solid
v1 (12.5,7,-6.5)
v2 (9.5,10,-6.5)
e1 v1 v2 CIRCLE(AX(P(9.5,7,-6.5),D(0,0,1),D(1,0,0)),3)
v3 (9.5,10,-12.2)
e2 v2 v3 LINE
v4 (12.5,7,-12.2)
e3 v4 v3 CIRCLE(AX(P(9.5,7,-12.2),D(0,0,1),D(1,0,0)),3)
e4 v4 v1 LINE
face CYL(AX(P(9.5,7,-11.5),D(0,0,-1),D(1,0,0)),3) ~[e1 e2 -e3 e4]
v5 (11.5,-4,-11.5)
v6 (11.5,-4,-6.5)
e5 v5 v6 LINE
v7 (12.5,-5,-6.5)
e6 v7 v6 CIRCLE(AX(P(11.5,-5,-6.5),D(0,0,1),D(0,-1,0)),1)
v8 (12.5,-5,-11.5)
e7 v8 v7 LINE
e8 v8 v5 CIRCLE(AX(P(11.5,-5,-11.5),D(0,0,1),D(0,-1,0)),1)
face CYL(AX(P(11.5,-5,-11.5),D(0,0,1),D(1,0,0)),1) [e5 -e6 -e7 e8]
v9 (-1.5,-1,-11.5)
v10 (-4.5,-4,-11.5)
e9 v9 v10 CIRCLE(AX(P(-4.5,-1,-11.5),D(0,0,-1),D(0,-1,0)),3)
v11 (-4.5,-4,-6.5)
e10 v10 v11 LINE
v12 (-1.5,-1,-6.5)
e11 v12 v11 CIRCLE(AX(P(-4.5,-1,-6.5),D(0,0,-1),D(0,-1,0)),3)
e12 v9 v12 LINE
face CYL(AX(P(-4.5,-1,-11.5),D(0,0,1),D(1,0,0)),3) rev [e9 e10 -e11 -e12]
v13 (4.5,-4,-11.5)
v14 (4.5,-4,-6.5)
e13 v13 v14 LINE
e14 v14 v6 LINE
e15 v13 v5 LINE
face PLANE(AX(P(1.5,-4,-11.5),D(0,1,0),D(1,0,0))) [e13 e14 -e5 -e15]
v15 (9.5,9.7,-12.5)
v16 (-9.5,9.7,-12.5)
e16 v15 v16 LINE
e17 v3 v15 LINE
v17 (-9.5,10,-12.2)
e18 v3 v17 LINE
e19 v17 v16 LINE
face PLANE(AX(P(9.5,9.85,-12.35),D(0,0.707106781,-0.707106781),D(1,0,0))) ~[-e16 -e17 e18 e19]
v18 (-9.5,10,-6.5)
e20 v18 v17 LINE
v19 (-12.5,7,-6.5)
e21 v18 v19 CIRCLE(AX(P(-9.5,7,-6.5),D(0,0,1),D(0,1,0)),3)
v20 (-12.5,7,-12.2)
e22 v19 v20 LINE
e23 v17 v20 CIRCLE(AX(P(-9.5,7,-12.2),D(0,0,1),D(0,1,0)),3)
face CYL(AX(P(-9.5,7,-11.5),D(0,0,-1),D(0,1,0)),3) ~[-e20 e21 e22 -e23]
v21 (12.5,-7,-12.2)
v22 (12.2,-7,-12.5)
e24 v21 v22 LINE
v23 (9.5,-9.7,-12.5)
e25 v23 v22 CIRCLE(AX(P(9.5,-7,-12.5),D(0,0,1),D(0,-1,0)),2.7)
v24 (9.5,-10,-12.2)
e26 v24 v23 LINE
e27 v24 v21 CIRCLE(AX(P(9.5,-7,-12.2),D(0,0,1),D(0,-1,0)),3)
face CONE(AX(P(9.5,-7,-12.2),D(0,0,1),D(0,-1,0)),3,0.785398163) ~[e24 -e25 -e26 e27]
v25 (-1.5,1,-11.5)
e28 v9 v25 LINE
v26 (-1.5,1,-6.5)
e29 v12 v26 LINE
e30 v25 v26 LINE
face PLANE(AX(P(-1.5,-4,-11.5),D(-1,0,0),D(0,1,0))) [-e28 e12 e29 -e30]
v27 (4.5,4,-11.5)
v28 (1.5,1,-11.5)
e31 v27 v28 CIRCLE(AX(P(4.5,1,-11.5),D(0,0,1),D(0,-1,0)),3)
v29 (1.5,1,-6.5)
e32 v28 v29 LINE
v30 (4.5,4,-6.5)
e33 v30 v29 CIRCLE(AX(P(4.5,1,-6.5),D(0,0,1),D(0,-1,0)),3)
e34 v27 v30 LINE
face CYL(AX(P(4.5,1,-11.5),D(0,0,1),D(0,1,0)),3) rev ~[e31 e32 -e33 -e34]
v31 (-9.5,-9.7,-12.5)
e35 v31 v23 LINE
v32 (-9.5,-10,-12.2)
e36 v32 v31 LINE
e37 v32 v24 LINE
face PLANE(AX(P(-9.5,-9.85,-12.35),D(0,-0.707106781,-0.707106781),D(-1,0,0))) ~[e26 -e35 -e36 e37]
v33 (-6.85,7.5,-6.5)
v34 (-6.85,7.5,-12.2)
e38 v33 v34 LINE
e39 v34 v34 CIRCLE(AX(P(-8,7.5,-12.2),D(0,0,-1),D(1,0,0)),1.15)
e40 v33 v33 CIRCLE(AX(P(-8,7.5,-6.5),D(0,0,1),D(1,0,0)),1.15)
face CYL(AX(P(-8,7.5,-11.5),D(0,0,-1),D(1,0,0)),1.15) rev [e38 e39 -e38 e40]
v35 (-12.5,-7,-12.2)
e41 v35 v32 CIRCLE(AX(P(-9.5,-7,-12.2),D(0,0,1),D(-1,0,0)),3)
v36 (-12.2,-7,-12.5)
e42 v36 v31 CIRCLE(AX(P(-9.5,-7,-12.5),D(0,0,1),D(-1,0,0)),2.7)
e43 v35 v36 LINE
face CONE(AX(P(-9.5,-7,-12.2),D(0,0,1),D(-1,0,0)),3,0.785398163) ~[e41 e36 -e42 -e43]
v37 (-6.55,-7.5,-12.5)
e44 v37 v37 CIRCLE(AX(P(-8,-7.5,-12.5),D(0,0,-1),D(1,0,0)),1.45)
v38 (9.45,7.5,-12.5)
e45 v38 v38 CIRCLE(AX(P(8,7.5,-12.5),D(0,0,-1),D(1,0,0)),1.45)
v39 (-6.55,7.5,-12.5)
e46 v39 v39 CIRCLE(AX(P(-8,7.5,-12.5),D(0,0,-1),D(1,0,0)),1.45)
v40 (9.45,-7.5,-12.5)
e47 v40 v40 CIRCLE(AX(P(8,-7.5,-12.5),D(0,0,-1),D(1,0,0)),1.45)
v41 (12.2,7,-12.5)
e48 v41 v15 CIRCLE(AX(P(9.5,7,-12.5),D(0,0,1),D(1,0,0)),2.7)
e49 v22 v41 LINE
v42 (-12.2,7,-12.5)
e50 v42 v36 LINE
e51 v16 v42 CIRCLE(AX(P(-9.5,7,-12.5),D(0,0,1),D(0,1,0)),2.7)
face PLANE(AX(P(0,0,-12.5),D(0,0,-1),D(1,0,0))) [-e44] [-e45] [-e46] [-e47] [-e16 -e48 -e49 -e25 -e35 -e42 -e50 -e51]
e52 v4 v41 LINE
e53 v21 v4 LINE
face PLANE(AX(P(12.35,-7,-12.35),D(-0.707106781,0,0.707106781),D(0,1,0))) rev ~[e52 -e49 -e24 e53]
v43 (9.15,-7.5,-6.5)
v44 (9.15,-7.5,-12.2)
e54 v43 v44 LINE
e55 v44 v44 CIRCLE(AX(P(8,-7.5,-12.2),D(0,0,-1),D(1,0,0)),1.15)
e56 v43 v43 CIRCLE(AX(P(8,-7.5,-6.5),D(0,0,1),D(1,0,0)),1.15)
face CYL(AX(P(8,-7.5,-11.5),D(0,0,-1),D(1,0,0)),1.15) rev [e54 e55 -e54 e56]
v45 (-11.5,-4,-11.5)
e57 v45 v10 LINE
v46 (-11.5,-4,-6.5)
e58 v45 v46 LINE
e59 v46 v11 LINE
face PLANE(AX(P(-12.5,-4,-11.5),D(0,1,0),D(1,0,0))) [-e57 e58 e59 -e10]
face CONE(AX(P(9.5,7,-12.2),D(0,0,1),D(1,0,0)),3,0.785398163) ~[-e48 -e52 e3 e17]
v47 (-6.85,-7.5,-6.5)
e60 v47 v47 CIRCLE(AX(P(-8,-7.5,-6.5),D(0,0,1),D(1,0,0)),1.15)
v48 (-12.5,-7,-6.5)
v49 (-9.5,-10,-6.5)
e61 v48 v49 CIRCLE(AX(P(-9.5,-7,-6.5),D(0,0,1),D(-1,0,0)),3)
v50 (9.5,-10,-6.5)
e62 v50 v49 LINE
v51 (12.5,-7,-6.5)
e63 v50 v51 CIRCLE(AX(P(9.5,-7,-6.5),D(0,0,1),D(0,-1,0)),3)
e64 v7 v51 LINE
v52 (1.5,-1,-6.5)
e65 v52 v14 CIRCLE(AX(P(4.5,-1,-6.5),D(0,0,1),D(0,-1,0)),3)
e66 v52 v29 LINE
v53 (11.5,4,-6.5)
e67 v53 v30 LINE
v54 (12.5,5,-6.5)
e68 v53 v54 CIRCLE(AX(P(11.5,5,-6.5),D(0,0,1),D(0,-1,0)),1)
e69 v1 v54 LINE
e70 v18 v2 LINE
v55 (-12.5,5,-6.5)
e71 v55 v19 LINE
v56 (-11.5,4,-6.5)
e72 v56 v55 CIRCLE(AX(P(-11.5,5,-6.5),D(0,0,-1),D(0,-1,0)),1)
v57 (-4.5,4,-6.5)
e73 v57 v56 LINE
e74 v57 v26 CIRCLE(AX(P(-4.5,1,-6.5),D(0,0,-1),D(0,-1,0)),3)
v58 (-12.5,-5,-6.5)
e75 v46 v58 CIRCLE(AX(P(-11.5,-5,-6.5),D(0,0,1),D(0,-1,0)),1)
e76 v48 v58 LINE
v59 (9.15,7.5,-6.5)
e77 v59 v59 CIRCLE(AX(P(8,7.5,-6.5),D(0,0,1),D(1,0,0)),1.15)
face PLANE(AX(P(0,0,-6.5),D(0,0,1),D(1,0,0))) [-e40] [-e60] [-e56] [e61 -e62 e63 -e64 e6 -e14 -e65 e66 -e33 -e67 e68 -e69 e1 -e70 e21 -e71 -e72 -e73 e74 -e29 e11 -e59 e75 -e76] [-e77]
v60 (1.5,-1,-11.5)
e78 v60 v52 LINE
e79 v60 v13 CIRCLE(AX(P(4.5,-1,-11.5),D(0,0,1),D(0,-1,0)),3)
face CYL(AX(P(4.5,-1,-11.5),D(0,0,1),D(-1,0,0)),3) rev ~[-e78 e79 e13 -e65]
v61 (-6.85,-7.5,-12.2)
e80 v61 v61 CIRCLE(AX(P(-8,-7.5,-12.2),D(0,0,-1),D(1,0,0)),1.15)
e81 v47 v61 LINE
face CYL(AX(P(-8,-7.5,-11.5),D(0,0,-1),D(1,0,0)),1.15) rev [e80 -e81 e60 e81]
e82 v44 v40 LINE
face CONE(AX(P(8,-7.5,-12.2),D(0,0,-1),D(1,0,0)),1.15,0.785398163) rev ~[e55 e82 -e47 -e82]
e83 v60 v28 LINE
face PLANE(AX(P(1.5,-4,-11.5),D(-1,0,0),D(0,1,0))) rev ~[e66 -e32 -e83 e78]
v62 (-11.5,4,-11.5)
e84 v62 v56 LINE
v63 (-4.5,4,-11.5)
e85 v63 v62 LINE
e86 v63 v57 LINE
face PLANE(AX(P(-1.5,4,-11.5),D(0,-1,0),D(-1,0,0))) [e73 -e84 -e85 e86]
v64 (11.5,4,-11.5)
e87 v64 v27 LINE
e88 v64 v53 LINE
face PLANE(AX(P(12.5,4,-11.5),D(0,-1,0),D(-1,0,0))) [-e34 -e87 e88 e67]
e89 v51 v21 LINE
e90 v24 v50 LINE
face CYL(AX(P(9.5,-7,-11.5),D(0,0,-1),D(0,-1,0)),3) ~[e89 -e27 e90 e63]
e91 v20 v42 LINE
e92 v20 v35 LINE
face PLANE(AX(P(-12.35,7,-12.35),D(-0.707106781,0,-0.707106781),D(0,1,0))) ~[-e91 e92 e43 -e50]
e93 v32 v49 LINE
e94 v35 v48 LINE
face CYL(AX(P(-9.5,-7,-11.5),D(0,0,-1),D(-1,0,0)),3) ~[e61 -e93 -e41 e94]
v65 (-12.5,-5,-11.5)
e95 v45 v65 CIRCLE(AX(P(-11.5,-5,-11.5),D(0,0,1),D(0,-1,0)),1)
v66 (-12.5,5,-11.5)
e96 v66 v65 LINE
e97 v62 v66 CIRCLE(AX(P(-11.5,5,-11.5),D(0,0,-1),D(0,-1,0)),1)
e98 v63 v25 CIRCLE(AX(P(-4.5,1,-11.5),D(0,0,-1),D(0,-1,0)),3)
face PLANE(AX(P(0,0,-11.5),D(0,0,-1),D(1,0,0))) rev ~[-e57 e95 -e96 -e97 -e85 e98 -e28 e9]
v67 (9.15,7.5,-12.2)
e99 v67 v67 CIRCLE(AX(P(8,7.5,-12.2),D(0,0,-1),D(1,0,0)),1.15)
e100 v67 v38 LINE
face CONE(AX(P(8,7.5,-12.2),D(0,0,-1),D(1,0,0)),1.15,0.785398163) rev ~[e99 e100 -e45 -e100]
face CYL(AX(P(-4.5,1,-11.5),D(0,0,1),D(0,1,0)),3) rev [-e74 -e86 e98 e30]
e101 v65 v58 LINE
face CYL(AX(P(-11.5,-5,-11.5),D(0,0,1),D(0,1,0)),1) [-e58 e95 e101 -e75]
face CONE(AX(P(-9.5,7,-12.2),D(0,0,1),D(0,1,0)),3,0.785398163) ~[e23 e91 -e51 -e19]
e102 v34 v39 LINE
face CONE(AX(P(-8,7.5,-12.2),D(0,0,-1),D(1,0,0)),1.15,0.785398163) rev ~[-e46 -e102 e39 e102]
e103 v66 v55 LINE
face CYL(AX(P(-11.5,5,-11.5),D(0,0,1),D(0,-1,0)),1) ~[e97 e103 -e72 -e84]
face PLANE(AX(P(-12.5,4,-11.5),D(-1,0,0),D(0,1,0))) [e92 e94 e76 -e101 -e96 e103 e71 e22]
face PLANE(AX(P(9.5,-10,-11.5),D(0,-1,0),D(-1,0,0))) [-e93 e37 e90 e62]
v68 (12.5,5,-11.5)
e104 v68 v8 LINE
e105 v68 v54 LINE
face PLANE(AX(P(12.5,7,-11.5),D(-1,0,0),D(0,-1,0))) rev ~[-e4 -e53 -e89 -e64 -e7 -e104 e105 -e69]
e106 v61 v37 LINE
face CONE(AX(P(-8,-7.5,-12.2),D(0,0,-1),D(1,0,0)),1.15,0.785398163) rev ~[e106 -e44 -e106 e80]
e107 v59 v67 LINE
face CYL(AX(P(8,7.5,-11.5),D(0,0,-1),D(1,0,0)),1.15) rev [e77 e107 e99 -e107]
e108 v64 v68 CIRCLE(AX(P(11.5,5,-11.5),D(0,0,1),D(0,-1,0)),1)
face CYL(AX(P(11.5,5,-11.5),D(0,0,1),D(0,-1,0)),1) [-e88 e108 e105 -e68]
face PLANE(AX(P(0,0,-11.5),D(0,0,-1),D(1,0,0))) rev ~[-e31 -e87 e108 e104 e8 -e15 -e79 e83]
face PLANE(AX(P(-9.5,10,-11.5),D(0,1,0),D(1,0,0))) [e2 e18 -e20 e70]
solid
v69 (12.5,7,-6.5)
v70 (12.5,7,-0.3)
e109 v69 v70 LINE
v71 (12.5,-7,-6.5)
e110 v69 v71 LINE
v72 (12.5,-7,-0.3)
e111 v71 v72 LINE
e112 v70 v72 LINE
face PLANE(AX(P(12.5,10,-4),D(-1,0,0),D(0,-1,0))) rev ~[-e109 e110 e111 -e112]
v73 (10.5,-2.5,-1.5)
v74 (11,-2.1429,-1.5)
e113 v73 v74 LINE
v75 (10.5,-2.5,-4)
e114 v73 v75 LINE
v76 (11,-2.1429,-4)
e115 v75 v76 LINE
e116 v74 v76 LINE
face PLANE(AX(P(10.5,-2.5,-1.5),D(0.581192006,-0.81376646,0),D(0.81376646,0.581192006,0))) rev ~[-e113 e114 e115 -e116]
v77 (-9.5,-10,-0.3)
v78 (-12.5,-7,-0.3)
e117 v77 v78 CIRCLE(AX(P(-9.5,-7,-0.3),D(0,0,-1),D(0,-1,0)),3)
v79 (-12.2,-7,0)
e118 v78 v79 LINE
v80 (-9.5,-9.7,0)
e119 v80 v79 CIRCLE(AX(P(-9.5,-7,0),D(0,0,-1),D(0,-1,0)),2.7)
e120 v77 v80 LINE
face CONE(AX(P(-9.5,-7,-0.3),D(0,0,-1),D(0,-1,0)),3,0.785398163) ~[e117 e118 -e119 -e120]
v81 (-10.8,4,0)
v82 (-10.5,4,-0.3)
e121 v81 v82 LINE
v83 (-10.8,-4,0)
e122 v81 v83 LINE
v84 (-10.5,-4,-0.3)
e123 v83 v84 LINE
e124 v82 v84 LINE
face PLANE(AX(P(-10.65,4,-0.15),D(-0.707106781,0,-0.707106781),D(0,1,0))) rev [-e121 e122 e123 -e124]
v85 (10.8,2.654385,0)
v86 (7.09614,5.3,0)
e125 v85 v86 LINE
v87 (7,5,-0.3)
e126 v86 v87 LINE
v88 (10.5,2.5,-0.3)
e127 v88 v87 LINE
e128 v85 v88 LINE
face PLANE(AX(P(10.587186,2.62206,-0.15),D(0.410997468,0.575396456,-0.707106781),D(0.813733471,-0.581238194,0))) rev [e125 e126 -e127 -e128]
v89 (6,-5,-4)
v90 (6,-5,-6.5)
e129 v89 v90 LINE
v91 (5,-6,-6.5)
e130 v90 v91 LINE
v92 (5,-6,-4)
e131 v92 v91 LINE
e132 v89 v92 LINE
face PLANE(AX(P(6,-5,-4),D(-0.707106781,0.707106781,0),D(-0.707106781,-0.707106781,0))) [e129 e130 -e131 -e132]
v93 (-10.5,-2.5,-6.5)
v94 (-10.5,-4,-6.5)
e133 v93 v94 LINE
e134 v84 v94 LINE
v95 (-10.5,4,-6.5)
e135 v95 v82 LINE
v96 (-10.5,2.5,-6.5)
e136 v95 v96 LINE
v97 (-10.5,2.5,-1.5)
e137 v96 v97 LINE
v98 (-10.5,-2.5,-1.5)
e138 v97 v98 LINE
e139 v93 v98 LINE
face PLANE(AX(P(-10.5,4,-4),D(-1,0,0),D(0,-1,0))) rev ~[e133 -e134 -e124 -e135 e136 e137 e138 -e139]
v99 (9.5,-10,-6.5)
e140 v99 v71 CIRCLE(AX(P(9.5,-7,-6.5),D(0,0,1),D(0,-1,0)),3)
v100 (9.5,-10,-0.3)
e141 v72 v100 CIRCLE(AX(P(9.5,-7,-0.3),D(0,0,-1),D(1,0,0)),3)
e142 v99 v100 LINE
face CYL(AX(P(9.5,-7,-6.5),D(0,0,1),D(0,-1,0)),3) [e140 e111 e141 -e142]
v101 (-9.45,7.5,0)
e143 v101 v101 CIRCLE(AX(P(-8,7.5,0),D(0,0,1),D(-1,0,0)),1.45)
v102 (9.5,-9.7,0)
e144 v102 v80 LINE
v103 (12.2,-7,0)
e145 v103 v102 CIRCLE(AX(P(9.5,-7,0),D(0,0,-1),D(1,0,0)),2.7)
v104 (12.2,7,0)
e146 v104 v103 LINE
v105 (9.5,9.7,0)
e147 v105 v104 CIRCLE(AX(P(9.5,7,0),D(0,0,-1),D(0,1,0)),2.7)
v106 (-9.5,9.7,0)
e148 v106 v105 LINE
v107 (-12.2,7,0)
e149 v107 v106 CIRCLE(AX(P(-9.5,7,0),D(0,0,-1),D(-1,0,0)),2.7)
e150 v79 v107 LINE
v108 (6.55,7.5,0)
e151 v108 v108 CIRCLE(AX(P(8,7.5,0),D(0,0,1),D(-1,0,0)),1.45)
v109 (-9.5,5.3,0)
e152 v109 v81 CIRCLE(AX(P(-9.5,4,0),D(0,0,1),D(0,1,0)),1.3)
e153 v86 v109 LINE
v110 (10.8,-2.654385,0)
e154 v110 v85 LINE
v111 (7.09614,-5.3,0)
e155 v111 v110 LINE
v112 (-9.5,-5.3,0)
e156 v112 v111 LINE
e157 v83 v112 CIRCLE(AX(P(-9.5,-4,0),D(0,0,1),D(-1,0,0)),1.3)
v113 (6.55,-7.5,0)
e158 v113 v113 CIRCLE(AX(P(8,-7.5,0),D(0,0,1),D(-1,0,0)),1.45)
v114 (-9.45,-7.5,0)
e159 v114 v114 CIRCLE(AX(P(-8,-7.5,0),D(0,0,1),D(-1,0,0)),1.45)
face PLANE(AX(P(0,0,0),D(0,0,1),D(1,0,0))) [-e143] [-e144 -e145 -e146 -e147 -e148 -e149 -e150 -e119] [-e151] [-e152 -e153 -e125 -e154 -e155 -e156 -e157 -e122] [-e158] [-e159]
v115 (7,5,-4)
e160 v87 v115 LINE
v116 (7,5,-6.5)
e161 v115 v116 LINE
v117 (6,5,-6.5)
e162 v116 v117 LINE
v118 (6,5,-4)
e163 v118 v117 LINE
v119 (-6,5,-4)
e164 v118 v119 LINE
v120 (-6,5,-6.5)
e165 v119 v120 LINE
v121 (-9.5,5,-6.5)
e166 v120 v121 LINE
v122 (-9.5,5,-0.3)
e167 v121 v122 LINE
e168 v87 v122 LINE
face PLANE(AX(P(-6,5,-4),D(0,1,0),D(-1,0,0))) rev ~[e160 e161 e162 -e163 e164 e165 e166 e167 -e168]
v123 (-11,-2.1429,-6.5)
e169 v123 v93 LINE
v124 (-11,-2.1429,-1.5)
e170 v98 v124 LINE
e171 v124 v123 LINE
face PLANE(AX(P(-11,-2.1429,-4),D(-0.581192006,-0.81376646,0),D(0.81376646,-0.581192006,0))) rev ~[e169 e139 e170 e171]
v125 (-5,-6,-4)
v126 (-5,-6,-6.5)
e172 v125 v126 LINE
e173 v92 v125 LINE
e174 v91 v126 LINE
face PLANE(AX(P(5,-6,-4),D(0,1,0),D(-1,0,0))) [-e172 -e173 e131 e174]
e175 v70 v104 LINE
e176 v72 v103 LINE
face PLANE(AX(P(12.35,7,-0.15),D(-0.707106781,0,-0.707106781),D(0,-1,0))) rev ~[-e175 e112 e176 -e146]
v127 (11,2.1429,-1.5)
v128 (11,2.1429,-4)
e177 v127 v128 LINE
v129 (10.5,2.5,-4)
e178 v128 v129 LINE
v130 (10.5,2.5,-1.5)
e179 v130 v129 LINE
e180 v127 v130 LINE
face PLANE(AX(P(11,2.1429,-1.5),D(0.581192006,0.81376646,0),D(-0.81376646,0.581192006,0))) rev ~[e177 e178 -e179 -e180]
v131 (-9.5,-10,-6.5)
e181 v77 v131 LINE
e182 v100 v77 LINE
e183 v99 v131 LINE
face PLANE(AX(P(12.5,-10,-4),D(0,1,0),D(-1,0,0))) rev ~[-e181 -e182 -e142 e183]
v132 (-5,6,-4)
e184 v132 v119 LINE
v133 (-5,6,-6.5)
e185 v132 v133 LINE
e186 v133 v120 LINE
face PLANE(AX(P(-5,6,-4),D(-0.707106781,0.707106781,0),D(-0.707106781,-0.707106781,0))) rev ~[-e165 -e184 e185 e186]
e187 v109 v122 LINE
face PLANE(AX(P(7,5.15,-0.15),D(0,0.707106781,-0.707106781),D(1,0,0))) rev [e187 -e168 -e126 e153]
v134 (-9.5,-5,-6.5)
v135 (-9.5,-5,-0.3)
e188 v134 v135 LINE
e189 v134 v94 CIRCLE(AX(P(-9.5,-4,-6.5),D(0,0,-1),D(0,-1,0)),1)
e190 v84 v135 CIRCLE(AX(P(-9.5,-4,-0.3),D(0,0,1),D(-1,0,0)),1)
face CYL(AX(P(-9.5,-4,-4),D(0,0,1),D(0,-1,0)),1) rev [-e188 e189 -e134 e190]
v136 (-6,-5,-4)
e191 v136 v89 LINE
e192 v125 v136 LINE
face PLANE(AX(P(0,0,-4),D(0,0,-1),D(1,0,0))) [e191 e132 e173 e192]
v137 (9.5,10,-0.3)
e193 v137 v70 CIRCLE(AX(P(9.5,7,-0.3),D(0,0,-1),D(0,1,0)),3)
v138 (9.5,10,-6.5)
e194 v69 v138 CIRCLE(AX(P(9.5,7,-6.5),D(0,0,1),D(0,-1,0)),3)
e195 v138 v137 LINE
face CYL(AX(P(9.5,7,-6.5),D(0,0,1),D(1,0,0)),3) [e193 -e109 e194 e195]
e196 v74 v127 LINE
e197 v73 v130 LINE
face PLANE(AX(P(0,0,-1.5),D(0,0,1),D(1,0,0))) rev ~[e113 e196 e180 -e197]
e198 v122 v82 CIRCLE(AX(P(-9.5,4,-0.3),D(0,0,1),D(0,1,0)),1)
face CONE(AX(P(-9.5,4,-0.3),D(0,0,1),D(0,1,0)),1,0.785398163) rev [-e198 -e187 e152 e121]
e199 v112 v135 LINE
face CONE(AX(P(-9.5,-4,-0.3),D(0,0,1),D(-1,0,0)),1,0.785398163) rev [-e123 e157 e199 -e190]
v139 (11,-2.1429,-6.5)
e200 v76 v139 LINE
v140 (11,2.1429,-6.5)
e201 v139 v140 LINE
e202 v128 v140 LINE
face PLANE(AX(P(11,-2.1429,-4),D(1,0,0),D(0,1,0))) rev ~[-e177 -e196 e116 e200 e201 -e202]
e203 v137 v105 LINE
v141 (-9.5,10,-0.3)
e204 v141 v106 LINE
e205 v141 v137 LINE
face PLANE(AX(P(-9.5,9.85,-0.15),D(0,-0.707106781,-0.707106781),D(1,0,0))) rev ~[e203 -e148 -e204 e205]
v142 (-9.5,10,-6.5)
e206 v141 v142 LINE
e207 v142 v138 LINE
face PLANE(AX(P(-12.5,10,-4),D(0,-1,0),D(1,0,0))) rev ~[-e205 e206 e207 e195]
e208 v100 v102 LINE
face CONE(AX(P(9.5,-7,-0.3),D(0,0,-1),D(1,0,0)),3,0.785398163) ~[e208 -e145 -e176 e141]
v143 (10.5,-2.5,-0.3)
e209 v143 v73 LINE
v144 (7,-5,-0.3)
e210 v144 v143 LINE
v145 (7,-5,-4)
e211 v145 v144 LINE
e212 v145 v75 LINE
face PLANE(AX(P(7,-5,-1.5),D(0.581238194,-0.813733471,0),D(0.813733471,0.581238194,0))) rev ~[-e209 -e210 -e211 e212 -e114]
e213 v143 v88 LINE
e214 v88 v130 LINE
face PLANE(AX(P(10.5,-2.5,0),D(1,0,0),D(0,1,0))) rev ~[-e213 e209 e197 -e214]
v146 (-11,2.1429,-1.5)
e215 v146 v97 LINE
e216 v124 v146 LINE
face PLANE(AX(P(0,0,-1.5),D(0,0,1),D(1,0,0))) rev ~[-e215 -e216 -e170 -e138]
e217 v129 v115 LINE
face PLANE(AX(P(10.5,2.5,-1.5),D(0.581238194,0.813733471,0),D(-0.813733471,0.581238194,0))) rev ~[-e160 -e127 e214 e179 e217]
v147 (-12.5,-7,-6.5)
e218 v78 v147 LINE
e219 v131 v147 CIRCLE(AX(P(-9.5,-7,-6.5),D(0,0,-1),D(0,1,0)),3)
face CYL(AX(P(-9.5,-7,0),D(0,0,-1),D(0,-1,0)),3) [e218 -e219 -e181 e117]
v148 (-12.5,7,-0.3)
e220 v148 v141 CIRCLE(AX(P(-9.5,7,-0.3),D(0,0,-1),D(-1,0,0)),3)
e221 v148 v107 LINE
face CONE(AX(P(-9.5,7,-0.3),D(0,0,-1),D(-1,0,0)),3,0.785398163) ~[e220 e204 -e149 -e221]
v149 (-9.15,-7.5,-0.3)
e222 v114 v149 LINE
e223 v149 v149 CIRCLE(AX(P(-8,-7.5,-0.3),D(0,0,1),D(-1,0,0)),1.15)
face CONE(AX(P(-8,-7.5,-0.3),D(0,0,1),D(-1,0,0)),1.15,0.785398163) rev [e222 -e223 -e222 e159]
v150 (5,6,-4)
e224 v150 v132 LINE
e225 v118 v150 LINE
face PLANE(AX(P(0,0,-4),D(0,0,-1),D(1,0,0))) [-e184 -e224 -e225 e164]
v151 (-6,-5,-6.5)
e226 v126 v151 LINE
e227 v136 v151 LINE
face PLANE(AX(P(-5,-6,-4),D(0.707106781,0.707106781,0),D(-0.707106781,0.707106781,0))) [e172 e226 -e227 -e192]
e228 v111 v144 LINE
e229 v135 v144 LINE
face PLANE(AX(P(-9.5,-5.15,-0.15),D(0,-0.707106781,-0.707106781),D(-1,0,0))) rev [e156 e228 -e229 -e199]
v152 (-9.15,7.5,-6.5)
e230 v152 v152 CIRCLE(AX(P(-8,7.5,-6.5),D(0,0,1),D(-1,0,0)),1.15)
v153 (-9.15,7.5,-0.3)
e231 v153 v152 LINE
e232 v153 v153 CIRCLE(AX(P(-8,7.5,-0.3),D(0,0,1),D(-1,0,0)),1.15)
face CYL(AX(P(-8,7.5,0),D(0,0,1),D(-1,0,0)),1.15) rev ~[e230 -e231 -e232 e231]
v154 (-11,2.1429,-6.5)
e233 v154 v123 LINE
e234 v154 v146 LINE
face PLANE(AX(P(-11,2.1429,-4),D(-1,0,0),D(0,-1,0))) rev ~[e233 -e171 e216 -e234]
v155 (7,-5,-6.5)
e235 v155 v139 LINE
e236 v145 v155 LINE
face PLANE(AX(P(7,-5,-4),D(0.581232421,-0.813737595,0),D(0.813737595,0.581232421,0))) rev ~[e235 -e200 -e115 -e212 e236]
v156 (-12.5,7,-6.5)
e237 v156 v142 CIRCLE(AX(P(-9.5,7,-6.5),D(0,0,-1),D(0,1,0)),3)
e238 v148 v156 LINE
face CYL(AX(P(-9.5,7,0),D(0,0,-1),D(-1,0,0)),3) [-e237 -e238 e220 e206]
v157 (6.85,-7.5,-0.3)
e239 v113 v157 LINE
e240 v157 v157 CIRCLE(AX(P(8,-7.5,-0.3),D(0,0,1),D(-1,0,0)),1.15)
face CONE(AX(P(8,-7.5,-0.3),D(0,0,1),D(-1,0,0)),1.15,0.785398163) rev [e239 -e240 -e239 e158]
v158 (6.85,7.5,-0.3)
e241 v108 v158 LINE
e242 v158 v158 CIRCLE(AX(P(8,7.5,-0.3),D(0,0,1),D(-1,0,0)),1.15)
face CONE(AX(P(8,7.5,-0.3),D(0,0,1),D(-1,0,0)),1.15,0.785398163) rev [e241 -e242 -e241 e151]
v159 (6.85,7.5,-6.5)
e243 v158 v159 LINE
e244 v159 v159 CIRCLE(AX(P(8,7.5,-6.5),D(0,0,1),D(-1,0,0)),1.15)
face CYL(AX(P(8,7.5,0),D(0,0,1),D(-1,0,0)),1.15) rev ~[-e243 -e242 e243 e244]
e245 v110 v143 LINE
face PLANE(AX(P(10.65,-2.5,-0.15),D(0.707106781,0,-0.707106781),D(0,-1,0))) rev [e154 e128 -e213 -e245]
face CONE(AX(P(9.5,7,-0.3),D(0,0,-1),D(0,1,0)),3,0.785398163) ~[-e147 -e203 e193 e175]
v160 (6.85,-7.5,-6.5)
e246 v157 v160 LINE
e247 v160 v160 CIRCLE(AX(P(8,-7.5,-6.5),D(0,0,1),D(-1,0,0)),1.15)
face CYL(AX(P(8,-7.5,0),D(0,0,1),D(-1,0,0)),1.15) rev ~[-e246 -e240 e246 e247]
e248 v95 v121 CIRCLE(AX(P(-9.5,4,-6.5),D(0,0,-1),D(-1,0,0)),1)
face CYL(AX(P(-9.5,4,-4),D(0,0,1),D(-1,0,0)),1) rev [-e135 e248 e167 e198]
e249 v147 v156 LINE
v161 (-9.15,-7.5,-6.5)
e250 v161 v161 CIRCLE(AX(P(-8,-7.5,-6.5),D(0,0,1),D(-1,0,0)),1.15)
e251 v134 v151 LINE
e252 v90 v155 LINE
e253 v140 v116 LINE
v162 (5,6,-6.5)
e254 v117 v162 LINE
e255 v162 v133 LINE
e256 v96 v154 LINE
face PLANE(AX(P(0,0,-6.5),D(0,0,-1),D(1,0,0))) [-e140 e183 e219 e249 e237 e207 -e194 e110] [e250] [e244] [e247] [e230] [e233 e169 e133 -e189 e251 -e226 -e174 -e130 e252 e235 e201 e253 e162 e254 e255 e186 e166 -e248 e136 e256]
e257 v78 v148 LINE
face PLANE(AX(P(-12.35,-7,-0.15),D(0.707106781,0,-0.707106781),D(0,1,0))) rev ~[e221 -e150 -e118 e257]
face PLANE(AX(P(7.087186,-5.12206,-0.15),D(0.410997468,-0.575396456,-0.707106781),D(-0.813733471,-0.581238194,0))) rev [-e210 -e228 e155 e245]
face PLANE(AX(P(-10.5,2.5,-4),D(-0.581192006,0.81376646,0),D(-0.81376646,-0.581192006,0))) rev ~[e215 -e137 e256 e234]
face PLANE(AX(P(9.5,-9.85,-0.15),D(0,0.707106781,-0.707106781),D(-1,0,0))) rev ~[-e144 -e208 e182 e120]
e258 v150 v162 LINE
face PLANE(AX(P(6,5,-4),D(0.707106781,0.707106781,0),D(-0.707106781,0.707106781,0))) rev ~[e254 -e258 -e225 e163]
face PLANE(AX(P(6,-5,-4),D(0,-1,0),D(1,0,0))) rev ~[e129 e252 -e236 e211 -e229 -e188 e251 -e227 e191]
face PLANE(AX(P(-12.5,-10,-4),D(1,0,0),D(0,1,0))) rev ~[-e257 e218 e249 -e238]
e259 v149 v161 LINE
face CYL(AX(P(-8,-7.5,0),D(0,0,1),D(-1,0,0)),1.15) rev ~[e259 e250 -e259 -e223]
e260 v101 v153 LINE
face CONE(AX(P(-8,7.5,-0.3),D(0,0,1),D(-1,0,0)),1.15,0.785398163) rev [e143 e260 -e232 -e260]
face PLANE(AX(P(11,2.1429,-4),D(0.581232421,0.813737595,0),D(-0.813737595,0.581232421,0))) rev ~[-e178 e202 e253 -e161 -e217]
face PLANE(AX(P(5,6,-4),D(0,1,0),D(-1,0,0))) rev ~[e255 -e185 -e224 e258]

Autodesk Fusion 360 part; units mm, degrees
sketch "Sketch1" plane through (0, 0, 0) normal (0, 0, 1) x (1, 0, 0) in component "Top"
  line L0 (12.5, -10) -> (-12.5, -10)
  line L1 (-12.5, -10) -> (-12.5, 10)
  line L2 (-12.5, 10) -> (12.5, 10)
  line L3 (12.5, 10) -> (12.5, -10)
  line L4 (12.5, -10) -> (-12.5, 10) construction
  line L5 (-12.5, -10) -> (12.5, 10) construction
  line L6 (-10.5, 5) -> (-10.5, -5)
  line L7 (-10.5, -5) -> (7, -5)
  line L8 (7, -5) -> (10.5, -2.5)
  line L9 (10.5, -2.5) -> (10.5, 2.5)
  line L10 (10.5, 2.5) -> (7, 5)
  line L11 (7, 5) -> (-10.5, 5)
  line L12 (0, 0) -> (-22, 0) construction
  line L13 (0, 0) -> (0, 9) construction
  dimension "d1" = 25
  dimension "d2" = 20
  dimension "d3" = 10
  dimension "d4" = 21
  dimension "d5" = 2.5
  dimension "d6" = 3.5
extrude "Extrude1" add sketch "Sketch1" against normal blind 1.5 makes body 1 in component "Top"
fillet "Fillet1" radius 1 2 edges at (-10.5, 5, -0.75) (-10.5, -5, -0.75) on bodies 1 in component "Top"
sketch "Sketch2" plane through (0, 0, -1.5) normal (0, 0, -1) x (1, 0, 0) in component "Top"
  line L0 (7, -5) -> (-9.5, -5)
  arc A0 (-10.5, -4) -> (-9.5, -5) centre (-9.5, -4) ccw
  line L1 (-10.5, -4) -> (-10.5, 4)
  arc A1 (-9.5, 5) -> (-10.5, 4) centre (-9.5, 4) ccw
  line L2 (-9.5, 5) -> (7, 5)
  line L3 (7, 5) -> (10.5, 2.5)
  line L4 (10.5, 2.5) -> (10.5, -2.5)
  line L5 (10.5, -2.5) -> (7, -5)
  line L6 (-12.5, -10) -> (12.5, -10)
  line L7 (12.5, -10) -> (12.5, 10)
  line L8 (12.5, 10) -> (-12.5, 10)
  line L9 (-12.5, 10) -> (-12.5, -10)
  line L10 (10.5, 2.5) -> (11, 2.1429)
  line L11 (11, 2.1429) -> (11, -2.1429)
  line L12 (11, -2.1429) -> (10.5, -2.5)
  line L13 (0, 0) -> (0, 13.3423) construction
  line L14 (-10.5, 2.5) -> (-11, 2.1429)
  line L15 (-11, 2.1429) -> (-11, -2.1429)
  line L16 (-11, -2.1429) -> (-10.5, -2.5)
  dimension "d11" = 0.5
extrude "Extrude2" add sketch "Sketch2" along normal blind 2.5 bodies 1 in component "Top"
sketch "Sketch3" plane through (0, 0, -4) normal (0, 0, -1) x (1, 0, 0) in component "Top"
  line L0 (-11, 2.1429) -> (-10.5, 2.5)
  line L1 (-10.5, 2.5) -> (-10.5, 4)
  arc A0 (-9.5, 5) -> (-10.5, 4) centre (-9.5, 4) ccw
  line L2 (-9.5, 5) -> (7, 5)
  line L3 (7, 5) -> (11, 2.1429)
  line L4 (11, 2.1429) -> (11, -2.1429)
  line L5 (11, -2.1429) -> (7, -5)
  line L6 (7, -5) -> (-9.5, -5)
  arc A1 (-10.5, -4) -> (-9.5, -5) centre (-9.5, -4) ccw
  line L7 (-10.5, -4) -> (-10.5, -2.5)
  line L8 (-10.5, -2.5) -> (-11, -2.1429)
  line L9 (-11, -2.1429) -> (-11, 2.1429)
  line L10 (-12.5, 10) -> (-12.5, -10)
  line L11 (-12.5, -10) -> (12.5, -10)
  line L12 (12.5, -10) -> (12.5, 10)
  line L13 (12.5, 10) -> (-12.5, 10)
  line L14 (0, 0) -> (13.5, 0) construction
  line L15 (6, 5) -> (5, 6)
  line L16 (5, 6) -> (-5, 6)
  line L17 (-5, 6) -> (-6, 5)
  line L18 (0, 0) -> (0, 13.6584) construction
  line L19 (6, -5) -> (5, -6)
  line L20 (5, -6) -> (-5, -6)
  line L21 (-5, -6) -> (-6, -5)
  dimension "d17" = 1
  dimension "d18" = 135
  dimension "d19" = 10
extrude "Extrude3" add sketch "Sketch3" along normal blind 2.5 bodies 1 in component "Top"
sketch "Sketch4" plane through (0, 0, 0) normal (0, 0, 1) x (-1, 0, 0) in component "Top"
  line L0 (9.5, -5) -> (-7, -5)
  line L1 (-7, -5) -> (-10.5, -2.5)
  line L2 (-10.5, -2.5) -> (-10.5, 2.5)
  line L3 (-10.5, 2.5) -> (-7, 5)
  line L4 (-7, 5) -> (9.5, 5)
  arc A0 (10.5, 4) -> (9.5, 5) centre (9.5, 4) ccw
  line L5 (10.5, 4) -> (10.5, -4)
  arc A1 (9.5, -5) -> (10.5, -4) centre (9.5, -4) ccw
  line L6 (-12.5, -10) -> (12.5, -10)
  line L7 (12.5, -10) -> (12.5, 10)
  line L8 (12.5, 10) -> (-12.5, 10)
  line L9 (-12.5, 10) -> (-12.5, -10)
  circle A2 centre (8, -7.5) radius 1.15
  line L10 (0, 0) -> (0, -18) construction
  circle A3 centre (-8, -7.5) radius 1.15
  line L11 (0, 0) -> (-17, 0) construction
  circle A4 centre (-8, 7.5) radius 1.15
  circle A5 centre (8, 7.5) radius 1.15
  dimension "d20" = 2.3
  dimension "d21" = 16
  dimension "d22" = 15
extrude "Extrude4" cut sketch "Sketch4" against normal up to surface (6.5 mm away) contours A2 | A3 | A4 | A5 bodies 1 in component "Top"
fillet "Fillet2" radius 3 4 edges at (-12.5, -10, -3.25) (12.5, -10, -3.25) (12.5, 10, -3.25) (-12.5, 10, -3.25) on bodies 1 in component "Top"
chamfer "Chamfer1" distance 0.3 angle 45 1 faces at (10.6143, -5.4059, 0) on bodies 1 in component "Top"
sketch "Sketch1 (2)" plane through (0, 0, 0) normal (0, 0, 1) x (1, 0, 0) in component "Bottom"
  arc A0 (12.5, 7) -> (9.5, 10) centre (9.5, 7) ccw
  arc A1 (12.5, 7) -> (9.5, 10) centre (9.5, 7) ccw
  line L0 (-9.5, 10) -> (9.5, 10)
  line L1 (9.5, 10) -> (-9.5, 10)
  arc A2 (-9.5, 10) -> (-12.5, 7) centre (-9.5, 7) ccw
  arc A3 (-9.5, 10) -> (-12.5, 7) centre (-9.5, 7) ccw
  line L2 (-12.5, -7) -> (-12.5, 7)
  line L3 (-12.5, 7) -> (-12.5, -7)
  arc A4 (-12.5, -7) -> (-9.5, -10) centre (-9.5, -7) ccw
  arc A5 (-12.5, -7) -> (-9.5, -10) centre (-9.5, -7) ccw
  line L4 (9.5, -10) -> (-9.5, -10)
  line L5 (-9.5, -10) -> (9.5, -10)
  arc A6 (9.5, -10) -> (12.5, -7) centre (9.5, -7) ccw
  arc A7 (9.5, -10) -> (12.5, -7) centre (9.5, -7) ccw
  line L6 (12.5, 7) -> (12.5, -7)
  line L7 (12.5, -7) -> (12.5, 7)
  circle A8 centre (8, 7.5) radius 1.15
  circle A9 centre (8, 7.5) radius 1.15
  circle A10 centre (8, -7.5) radius 1.15
  circle A11 centre (8, -7.5) radius 1.15
  circle A12 centre (-8, -7.5) radius 1.15
  circle A13 centre (-8, -7.5) radius 1.15
  circle A14 centre (-8, 7.5) radius 1.15
  circle A15 centre (-8, 7.5) radius 1.15
  line L8 (-12.5, -4) -> (12.5, -4)
  line L9 (12.5, 4) -> (-12.5, 4)
  line L10 (-1.5, -4) -> (-1.5, 4)
  line L11 (1.5, -4) -> (1.5, 4)
  line L12 (0, 0) -> (0, -8) construction
  line L13 (0, 0) -> (14, 0) construction
  dimension "d28" = 8
  dimension "d29" = 3
extrude "Extrude1'" add sketch "Sketch1 (2)" along normal blind 5 separate body contours A0 A1 L0 L1 A2 A3 L2 L3 L6 L7 L9 | L2 L3 A4 A5 L4 L5 A6 A7 L6 L7 L8 | L8 L9 L10 L11 makes body 2 in component "Bottom"
fillet "Fillet1'" radius 3 4 edges at (-1.5, -4, 2.5) (-1.5, 4, 2.5) (1.5, -4, 2.5) (1.5, 4, 2.5) on bodies 2 in component "Bottom"
fillet "Fillet2'" radius 1 4 edges at (-12.5, -4, 2.5) (-12.5, 4, 2.5) (12.5, -4, 2.5) (12.5, 4, 2.5) on bodies 2 in component "Bottom"
sketch "Sketch2 (2)" plane through (0, 0, 0) normal (0, 0, -1) x (1, 0, 0) in component "Bottom"
  arc A0 (12.5, -5) -> (11.5, -4) centre (11.5, -5) ccw
  line L0 (11.5, -4) -> (4.5, -4)
  arc A1 (1.5, -1) -> (4.5, -4) centre (4.5, -1) ccw
  line L1 (1.5, -1) -> (1.5, 1)
  arc A2 (4.5, 4) -> (1.5, 1) centre (4.5, 1) ccw
  line L2 (4.5, 4) -> (11.5, 4)
  arc A3 (11.5, 4) -> (12.5, 5) centre (11.5, 5) ccw
  line L3 (12.5, 5) -> (12.5, 7)
  arc A4 (12.5, 7) -> (9.5, 10) centre (9.5, 7) ccw
  line L4 (9.5, 10) -> (-9.5, 10)
  arc A5 (-9.5, 10) -> (-12.5, 7) centre (-9.5, 7) ccw
  line L5 (-12.5, 7) -> (-12.5, 5)
  arc A6 (-12.5, 5) -> (-11.5, 4) centre (-11.5, 5) ccw
  line L6 (-11.5, 4) -> (-4.5, 4)
  arc A7 (-1.5, 1) -> (-4.5, 4) centre (-4.5, 1) ccw
  line L7 (-1.5, 1) -> (-1.5, -1)
  arc A8 (-4.5, -4) -> (-1.5, -1) centre (-4.5, -1) ccw
  line L8 (-4.5, -4) -> (-11.5, -4)
  arc A9 (-11.5, -4) -> (-12.5, -5) centre (-11.5, -5) ccw
  line L9 (-12.5, -5) -> (-12.5, -7)
  arc A10 (-12.5, -7) -> (-9.5, -10) centre (-9.5, -7) ccw
  line L10 (-9.5, -10) -> (9.5, -10)
  arc A11 (9.5, -10) -> (12.5, -7) centre (9.5, -7) ccw
  line L11 (12.5, -7) -> (12.5, -5)
  circle A12 centre (8, 7.5) radius 1.15
  circle A13 centre (8, -7.5) radius 1.15
  circle A14 centre (-8, 7.5) radius 1.15
  circle A15 centre (-8, -7.5) radius 1.15
  line L12 (-12.5, -5) -> (-12.5, 5)
  line L13 (12.5, -5) -> (12.5, 5)
extrude "Extrude2'" add sketch "Sketch2 (2)" along normal blind 1 bodies 2 in component "Bottom"
chamfer "Chamfer1'" distance 0.3 angle 45 1 faces at (-2.3857, 2.2393, -1) on bodies 2 in component "Bottom"
component "Top" placed x (1, 0, 0) y (0, 1, 0) z (0, 0, 1) at (0, 0, 0)
component "Bottom" placed x (1, 0, 0) y (0, 1, 0) z (0, 0, 1) at (0, 0, -11.5)
